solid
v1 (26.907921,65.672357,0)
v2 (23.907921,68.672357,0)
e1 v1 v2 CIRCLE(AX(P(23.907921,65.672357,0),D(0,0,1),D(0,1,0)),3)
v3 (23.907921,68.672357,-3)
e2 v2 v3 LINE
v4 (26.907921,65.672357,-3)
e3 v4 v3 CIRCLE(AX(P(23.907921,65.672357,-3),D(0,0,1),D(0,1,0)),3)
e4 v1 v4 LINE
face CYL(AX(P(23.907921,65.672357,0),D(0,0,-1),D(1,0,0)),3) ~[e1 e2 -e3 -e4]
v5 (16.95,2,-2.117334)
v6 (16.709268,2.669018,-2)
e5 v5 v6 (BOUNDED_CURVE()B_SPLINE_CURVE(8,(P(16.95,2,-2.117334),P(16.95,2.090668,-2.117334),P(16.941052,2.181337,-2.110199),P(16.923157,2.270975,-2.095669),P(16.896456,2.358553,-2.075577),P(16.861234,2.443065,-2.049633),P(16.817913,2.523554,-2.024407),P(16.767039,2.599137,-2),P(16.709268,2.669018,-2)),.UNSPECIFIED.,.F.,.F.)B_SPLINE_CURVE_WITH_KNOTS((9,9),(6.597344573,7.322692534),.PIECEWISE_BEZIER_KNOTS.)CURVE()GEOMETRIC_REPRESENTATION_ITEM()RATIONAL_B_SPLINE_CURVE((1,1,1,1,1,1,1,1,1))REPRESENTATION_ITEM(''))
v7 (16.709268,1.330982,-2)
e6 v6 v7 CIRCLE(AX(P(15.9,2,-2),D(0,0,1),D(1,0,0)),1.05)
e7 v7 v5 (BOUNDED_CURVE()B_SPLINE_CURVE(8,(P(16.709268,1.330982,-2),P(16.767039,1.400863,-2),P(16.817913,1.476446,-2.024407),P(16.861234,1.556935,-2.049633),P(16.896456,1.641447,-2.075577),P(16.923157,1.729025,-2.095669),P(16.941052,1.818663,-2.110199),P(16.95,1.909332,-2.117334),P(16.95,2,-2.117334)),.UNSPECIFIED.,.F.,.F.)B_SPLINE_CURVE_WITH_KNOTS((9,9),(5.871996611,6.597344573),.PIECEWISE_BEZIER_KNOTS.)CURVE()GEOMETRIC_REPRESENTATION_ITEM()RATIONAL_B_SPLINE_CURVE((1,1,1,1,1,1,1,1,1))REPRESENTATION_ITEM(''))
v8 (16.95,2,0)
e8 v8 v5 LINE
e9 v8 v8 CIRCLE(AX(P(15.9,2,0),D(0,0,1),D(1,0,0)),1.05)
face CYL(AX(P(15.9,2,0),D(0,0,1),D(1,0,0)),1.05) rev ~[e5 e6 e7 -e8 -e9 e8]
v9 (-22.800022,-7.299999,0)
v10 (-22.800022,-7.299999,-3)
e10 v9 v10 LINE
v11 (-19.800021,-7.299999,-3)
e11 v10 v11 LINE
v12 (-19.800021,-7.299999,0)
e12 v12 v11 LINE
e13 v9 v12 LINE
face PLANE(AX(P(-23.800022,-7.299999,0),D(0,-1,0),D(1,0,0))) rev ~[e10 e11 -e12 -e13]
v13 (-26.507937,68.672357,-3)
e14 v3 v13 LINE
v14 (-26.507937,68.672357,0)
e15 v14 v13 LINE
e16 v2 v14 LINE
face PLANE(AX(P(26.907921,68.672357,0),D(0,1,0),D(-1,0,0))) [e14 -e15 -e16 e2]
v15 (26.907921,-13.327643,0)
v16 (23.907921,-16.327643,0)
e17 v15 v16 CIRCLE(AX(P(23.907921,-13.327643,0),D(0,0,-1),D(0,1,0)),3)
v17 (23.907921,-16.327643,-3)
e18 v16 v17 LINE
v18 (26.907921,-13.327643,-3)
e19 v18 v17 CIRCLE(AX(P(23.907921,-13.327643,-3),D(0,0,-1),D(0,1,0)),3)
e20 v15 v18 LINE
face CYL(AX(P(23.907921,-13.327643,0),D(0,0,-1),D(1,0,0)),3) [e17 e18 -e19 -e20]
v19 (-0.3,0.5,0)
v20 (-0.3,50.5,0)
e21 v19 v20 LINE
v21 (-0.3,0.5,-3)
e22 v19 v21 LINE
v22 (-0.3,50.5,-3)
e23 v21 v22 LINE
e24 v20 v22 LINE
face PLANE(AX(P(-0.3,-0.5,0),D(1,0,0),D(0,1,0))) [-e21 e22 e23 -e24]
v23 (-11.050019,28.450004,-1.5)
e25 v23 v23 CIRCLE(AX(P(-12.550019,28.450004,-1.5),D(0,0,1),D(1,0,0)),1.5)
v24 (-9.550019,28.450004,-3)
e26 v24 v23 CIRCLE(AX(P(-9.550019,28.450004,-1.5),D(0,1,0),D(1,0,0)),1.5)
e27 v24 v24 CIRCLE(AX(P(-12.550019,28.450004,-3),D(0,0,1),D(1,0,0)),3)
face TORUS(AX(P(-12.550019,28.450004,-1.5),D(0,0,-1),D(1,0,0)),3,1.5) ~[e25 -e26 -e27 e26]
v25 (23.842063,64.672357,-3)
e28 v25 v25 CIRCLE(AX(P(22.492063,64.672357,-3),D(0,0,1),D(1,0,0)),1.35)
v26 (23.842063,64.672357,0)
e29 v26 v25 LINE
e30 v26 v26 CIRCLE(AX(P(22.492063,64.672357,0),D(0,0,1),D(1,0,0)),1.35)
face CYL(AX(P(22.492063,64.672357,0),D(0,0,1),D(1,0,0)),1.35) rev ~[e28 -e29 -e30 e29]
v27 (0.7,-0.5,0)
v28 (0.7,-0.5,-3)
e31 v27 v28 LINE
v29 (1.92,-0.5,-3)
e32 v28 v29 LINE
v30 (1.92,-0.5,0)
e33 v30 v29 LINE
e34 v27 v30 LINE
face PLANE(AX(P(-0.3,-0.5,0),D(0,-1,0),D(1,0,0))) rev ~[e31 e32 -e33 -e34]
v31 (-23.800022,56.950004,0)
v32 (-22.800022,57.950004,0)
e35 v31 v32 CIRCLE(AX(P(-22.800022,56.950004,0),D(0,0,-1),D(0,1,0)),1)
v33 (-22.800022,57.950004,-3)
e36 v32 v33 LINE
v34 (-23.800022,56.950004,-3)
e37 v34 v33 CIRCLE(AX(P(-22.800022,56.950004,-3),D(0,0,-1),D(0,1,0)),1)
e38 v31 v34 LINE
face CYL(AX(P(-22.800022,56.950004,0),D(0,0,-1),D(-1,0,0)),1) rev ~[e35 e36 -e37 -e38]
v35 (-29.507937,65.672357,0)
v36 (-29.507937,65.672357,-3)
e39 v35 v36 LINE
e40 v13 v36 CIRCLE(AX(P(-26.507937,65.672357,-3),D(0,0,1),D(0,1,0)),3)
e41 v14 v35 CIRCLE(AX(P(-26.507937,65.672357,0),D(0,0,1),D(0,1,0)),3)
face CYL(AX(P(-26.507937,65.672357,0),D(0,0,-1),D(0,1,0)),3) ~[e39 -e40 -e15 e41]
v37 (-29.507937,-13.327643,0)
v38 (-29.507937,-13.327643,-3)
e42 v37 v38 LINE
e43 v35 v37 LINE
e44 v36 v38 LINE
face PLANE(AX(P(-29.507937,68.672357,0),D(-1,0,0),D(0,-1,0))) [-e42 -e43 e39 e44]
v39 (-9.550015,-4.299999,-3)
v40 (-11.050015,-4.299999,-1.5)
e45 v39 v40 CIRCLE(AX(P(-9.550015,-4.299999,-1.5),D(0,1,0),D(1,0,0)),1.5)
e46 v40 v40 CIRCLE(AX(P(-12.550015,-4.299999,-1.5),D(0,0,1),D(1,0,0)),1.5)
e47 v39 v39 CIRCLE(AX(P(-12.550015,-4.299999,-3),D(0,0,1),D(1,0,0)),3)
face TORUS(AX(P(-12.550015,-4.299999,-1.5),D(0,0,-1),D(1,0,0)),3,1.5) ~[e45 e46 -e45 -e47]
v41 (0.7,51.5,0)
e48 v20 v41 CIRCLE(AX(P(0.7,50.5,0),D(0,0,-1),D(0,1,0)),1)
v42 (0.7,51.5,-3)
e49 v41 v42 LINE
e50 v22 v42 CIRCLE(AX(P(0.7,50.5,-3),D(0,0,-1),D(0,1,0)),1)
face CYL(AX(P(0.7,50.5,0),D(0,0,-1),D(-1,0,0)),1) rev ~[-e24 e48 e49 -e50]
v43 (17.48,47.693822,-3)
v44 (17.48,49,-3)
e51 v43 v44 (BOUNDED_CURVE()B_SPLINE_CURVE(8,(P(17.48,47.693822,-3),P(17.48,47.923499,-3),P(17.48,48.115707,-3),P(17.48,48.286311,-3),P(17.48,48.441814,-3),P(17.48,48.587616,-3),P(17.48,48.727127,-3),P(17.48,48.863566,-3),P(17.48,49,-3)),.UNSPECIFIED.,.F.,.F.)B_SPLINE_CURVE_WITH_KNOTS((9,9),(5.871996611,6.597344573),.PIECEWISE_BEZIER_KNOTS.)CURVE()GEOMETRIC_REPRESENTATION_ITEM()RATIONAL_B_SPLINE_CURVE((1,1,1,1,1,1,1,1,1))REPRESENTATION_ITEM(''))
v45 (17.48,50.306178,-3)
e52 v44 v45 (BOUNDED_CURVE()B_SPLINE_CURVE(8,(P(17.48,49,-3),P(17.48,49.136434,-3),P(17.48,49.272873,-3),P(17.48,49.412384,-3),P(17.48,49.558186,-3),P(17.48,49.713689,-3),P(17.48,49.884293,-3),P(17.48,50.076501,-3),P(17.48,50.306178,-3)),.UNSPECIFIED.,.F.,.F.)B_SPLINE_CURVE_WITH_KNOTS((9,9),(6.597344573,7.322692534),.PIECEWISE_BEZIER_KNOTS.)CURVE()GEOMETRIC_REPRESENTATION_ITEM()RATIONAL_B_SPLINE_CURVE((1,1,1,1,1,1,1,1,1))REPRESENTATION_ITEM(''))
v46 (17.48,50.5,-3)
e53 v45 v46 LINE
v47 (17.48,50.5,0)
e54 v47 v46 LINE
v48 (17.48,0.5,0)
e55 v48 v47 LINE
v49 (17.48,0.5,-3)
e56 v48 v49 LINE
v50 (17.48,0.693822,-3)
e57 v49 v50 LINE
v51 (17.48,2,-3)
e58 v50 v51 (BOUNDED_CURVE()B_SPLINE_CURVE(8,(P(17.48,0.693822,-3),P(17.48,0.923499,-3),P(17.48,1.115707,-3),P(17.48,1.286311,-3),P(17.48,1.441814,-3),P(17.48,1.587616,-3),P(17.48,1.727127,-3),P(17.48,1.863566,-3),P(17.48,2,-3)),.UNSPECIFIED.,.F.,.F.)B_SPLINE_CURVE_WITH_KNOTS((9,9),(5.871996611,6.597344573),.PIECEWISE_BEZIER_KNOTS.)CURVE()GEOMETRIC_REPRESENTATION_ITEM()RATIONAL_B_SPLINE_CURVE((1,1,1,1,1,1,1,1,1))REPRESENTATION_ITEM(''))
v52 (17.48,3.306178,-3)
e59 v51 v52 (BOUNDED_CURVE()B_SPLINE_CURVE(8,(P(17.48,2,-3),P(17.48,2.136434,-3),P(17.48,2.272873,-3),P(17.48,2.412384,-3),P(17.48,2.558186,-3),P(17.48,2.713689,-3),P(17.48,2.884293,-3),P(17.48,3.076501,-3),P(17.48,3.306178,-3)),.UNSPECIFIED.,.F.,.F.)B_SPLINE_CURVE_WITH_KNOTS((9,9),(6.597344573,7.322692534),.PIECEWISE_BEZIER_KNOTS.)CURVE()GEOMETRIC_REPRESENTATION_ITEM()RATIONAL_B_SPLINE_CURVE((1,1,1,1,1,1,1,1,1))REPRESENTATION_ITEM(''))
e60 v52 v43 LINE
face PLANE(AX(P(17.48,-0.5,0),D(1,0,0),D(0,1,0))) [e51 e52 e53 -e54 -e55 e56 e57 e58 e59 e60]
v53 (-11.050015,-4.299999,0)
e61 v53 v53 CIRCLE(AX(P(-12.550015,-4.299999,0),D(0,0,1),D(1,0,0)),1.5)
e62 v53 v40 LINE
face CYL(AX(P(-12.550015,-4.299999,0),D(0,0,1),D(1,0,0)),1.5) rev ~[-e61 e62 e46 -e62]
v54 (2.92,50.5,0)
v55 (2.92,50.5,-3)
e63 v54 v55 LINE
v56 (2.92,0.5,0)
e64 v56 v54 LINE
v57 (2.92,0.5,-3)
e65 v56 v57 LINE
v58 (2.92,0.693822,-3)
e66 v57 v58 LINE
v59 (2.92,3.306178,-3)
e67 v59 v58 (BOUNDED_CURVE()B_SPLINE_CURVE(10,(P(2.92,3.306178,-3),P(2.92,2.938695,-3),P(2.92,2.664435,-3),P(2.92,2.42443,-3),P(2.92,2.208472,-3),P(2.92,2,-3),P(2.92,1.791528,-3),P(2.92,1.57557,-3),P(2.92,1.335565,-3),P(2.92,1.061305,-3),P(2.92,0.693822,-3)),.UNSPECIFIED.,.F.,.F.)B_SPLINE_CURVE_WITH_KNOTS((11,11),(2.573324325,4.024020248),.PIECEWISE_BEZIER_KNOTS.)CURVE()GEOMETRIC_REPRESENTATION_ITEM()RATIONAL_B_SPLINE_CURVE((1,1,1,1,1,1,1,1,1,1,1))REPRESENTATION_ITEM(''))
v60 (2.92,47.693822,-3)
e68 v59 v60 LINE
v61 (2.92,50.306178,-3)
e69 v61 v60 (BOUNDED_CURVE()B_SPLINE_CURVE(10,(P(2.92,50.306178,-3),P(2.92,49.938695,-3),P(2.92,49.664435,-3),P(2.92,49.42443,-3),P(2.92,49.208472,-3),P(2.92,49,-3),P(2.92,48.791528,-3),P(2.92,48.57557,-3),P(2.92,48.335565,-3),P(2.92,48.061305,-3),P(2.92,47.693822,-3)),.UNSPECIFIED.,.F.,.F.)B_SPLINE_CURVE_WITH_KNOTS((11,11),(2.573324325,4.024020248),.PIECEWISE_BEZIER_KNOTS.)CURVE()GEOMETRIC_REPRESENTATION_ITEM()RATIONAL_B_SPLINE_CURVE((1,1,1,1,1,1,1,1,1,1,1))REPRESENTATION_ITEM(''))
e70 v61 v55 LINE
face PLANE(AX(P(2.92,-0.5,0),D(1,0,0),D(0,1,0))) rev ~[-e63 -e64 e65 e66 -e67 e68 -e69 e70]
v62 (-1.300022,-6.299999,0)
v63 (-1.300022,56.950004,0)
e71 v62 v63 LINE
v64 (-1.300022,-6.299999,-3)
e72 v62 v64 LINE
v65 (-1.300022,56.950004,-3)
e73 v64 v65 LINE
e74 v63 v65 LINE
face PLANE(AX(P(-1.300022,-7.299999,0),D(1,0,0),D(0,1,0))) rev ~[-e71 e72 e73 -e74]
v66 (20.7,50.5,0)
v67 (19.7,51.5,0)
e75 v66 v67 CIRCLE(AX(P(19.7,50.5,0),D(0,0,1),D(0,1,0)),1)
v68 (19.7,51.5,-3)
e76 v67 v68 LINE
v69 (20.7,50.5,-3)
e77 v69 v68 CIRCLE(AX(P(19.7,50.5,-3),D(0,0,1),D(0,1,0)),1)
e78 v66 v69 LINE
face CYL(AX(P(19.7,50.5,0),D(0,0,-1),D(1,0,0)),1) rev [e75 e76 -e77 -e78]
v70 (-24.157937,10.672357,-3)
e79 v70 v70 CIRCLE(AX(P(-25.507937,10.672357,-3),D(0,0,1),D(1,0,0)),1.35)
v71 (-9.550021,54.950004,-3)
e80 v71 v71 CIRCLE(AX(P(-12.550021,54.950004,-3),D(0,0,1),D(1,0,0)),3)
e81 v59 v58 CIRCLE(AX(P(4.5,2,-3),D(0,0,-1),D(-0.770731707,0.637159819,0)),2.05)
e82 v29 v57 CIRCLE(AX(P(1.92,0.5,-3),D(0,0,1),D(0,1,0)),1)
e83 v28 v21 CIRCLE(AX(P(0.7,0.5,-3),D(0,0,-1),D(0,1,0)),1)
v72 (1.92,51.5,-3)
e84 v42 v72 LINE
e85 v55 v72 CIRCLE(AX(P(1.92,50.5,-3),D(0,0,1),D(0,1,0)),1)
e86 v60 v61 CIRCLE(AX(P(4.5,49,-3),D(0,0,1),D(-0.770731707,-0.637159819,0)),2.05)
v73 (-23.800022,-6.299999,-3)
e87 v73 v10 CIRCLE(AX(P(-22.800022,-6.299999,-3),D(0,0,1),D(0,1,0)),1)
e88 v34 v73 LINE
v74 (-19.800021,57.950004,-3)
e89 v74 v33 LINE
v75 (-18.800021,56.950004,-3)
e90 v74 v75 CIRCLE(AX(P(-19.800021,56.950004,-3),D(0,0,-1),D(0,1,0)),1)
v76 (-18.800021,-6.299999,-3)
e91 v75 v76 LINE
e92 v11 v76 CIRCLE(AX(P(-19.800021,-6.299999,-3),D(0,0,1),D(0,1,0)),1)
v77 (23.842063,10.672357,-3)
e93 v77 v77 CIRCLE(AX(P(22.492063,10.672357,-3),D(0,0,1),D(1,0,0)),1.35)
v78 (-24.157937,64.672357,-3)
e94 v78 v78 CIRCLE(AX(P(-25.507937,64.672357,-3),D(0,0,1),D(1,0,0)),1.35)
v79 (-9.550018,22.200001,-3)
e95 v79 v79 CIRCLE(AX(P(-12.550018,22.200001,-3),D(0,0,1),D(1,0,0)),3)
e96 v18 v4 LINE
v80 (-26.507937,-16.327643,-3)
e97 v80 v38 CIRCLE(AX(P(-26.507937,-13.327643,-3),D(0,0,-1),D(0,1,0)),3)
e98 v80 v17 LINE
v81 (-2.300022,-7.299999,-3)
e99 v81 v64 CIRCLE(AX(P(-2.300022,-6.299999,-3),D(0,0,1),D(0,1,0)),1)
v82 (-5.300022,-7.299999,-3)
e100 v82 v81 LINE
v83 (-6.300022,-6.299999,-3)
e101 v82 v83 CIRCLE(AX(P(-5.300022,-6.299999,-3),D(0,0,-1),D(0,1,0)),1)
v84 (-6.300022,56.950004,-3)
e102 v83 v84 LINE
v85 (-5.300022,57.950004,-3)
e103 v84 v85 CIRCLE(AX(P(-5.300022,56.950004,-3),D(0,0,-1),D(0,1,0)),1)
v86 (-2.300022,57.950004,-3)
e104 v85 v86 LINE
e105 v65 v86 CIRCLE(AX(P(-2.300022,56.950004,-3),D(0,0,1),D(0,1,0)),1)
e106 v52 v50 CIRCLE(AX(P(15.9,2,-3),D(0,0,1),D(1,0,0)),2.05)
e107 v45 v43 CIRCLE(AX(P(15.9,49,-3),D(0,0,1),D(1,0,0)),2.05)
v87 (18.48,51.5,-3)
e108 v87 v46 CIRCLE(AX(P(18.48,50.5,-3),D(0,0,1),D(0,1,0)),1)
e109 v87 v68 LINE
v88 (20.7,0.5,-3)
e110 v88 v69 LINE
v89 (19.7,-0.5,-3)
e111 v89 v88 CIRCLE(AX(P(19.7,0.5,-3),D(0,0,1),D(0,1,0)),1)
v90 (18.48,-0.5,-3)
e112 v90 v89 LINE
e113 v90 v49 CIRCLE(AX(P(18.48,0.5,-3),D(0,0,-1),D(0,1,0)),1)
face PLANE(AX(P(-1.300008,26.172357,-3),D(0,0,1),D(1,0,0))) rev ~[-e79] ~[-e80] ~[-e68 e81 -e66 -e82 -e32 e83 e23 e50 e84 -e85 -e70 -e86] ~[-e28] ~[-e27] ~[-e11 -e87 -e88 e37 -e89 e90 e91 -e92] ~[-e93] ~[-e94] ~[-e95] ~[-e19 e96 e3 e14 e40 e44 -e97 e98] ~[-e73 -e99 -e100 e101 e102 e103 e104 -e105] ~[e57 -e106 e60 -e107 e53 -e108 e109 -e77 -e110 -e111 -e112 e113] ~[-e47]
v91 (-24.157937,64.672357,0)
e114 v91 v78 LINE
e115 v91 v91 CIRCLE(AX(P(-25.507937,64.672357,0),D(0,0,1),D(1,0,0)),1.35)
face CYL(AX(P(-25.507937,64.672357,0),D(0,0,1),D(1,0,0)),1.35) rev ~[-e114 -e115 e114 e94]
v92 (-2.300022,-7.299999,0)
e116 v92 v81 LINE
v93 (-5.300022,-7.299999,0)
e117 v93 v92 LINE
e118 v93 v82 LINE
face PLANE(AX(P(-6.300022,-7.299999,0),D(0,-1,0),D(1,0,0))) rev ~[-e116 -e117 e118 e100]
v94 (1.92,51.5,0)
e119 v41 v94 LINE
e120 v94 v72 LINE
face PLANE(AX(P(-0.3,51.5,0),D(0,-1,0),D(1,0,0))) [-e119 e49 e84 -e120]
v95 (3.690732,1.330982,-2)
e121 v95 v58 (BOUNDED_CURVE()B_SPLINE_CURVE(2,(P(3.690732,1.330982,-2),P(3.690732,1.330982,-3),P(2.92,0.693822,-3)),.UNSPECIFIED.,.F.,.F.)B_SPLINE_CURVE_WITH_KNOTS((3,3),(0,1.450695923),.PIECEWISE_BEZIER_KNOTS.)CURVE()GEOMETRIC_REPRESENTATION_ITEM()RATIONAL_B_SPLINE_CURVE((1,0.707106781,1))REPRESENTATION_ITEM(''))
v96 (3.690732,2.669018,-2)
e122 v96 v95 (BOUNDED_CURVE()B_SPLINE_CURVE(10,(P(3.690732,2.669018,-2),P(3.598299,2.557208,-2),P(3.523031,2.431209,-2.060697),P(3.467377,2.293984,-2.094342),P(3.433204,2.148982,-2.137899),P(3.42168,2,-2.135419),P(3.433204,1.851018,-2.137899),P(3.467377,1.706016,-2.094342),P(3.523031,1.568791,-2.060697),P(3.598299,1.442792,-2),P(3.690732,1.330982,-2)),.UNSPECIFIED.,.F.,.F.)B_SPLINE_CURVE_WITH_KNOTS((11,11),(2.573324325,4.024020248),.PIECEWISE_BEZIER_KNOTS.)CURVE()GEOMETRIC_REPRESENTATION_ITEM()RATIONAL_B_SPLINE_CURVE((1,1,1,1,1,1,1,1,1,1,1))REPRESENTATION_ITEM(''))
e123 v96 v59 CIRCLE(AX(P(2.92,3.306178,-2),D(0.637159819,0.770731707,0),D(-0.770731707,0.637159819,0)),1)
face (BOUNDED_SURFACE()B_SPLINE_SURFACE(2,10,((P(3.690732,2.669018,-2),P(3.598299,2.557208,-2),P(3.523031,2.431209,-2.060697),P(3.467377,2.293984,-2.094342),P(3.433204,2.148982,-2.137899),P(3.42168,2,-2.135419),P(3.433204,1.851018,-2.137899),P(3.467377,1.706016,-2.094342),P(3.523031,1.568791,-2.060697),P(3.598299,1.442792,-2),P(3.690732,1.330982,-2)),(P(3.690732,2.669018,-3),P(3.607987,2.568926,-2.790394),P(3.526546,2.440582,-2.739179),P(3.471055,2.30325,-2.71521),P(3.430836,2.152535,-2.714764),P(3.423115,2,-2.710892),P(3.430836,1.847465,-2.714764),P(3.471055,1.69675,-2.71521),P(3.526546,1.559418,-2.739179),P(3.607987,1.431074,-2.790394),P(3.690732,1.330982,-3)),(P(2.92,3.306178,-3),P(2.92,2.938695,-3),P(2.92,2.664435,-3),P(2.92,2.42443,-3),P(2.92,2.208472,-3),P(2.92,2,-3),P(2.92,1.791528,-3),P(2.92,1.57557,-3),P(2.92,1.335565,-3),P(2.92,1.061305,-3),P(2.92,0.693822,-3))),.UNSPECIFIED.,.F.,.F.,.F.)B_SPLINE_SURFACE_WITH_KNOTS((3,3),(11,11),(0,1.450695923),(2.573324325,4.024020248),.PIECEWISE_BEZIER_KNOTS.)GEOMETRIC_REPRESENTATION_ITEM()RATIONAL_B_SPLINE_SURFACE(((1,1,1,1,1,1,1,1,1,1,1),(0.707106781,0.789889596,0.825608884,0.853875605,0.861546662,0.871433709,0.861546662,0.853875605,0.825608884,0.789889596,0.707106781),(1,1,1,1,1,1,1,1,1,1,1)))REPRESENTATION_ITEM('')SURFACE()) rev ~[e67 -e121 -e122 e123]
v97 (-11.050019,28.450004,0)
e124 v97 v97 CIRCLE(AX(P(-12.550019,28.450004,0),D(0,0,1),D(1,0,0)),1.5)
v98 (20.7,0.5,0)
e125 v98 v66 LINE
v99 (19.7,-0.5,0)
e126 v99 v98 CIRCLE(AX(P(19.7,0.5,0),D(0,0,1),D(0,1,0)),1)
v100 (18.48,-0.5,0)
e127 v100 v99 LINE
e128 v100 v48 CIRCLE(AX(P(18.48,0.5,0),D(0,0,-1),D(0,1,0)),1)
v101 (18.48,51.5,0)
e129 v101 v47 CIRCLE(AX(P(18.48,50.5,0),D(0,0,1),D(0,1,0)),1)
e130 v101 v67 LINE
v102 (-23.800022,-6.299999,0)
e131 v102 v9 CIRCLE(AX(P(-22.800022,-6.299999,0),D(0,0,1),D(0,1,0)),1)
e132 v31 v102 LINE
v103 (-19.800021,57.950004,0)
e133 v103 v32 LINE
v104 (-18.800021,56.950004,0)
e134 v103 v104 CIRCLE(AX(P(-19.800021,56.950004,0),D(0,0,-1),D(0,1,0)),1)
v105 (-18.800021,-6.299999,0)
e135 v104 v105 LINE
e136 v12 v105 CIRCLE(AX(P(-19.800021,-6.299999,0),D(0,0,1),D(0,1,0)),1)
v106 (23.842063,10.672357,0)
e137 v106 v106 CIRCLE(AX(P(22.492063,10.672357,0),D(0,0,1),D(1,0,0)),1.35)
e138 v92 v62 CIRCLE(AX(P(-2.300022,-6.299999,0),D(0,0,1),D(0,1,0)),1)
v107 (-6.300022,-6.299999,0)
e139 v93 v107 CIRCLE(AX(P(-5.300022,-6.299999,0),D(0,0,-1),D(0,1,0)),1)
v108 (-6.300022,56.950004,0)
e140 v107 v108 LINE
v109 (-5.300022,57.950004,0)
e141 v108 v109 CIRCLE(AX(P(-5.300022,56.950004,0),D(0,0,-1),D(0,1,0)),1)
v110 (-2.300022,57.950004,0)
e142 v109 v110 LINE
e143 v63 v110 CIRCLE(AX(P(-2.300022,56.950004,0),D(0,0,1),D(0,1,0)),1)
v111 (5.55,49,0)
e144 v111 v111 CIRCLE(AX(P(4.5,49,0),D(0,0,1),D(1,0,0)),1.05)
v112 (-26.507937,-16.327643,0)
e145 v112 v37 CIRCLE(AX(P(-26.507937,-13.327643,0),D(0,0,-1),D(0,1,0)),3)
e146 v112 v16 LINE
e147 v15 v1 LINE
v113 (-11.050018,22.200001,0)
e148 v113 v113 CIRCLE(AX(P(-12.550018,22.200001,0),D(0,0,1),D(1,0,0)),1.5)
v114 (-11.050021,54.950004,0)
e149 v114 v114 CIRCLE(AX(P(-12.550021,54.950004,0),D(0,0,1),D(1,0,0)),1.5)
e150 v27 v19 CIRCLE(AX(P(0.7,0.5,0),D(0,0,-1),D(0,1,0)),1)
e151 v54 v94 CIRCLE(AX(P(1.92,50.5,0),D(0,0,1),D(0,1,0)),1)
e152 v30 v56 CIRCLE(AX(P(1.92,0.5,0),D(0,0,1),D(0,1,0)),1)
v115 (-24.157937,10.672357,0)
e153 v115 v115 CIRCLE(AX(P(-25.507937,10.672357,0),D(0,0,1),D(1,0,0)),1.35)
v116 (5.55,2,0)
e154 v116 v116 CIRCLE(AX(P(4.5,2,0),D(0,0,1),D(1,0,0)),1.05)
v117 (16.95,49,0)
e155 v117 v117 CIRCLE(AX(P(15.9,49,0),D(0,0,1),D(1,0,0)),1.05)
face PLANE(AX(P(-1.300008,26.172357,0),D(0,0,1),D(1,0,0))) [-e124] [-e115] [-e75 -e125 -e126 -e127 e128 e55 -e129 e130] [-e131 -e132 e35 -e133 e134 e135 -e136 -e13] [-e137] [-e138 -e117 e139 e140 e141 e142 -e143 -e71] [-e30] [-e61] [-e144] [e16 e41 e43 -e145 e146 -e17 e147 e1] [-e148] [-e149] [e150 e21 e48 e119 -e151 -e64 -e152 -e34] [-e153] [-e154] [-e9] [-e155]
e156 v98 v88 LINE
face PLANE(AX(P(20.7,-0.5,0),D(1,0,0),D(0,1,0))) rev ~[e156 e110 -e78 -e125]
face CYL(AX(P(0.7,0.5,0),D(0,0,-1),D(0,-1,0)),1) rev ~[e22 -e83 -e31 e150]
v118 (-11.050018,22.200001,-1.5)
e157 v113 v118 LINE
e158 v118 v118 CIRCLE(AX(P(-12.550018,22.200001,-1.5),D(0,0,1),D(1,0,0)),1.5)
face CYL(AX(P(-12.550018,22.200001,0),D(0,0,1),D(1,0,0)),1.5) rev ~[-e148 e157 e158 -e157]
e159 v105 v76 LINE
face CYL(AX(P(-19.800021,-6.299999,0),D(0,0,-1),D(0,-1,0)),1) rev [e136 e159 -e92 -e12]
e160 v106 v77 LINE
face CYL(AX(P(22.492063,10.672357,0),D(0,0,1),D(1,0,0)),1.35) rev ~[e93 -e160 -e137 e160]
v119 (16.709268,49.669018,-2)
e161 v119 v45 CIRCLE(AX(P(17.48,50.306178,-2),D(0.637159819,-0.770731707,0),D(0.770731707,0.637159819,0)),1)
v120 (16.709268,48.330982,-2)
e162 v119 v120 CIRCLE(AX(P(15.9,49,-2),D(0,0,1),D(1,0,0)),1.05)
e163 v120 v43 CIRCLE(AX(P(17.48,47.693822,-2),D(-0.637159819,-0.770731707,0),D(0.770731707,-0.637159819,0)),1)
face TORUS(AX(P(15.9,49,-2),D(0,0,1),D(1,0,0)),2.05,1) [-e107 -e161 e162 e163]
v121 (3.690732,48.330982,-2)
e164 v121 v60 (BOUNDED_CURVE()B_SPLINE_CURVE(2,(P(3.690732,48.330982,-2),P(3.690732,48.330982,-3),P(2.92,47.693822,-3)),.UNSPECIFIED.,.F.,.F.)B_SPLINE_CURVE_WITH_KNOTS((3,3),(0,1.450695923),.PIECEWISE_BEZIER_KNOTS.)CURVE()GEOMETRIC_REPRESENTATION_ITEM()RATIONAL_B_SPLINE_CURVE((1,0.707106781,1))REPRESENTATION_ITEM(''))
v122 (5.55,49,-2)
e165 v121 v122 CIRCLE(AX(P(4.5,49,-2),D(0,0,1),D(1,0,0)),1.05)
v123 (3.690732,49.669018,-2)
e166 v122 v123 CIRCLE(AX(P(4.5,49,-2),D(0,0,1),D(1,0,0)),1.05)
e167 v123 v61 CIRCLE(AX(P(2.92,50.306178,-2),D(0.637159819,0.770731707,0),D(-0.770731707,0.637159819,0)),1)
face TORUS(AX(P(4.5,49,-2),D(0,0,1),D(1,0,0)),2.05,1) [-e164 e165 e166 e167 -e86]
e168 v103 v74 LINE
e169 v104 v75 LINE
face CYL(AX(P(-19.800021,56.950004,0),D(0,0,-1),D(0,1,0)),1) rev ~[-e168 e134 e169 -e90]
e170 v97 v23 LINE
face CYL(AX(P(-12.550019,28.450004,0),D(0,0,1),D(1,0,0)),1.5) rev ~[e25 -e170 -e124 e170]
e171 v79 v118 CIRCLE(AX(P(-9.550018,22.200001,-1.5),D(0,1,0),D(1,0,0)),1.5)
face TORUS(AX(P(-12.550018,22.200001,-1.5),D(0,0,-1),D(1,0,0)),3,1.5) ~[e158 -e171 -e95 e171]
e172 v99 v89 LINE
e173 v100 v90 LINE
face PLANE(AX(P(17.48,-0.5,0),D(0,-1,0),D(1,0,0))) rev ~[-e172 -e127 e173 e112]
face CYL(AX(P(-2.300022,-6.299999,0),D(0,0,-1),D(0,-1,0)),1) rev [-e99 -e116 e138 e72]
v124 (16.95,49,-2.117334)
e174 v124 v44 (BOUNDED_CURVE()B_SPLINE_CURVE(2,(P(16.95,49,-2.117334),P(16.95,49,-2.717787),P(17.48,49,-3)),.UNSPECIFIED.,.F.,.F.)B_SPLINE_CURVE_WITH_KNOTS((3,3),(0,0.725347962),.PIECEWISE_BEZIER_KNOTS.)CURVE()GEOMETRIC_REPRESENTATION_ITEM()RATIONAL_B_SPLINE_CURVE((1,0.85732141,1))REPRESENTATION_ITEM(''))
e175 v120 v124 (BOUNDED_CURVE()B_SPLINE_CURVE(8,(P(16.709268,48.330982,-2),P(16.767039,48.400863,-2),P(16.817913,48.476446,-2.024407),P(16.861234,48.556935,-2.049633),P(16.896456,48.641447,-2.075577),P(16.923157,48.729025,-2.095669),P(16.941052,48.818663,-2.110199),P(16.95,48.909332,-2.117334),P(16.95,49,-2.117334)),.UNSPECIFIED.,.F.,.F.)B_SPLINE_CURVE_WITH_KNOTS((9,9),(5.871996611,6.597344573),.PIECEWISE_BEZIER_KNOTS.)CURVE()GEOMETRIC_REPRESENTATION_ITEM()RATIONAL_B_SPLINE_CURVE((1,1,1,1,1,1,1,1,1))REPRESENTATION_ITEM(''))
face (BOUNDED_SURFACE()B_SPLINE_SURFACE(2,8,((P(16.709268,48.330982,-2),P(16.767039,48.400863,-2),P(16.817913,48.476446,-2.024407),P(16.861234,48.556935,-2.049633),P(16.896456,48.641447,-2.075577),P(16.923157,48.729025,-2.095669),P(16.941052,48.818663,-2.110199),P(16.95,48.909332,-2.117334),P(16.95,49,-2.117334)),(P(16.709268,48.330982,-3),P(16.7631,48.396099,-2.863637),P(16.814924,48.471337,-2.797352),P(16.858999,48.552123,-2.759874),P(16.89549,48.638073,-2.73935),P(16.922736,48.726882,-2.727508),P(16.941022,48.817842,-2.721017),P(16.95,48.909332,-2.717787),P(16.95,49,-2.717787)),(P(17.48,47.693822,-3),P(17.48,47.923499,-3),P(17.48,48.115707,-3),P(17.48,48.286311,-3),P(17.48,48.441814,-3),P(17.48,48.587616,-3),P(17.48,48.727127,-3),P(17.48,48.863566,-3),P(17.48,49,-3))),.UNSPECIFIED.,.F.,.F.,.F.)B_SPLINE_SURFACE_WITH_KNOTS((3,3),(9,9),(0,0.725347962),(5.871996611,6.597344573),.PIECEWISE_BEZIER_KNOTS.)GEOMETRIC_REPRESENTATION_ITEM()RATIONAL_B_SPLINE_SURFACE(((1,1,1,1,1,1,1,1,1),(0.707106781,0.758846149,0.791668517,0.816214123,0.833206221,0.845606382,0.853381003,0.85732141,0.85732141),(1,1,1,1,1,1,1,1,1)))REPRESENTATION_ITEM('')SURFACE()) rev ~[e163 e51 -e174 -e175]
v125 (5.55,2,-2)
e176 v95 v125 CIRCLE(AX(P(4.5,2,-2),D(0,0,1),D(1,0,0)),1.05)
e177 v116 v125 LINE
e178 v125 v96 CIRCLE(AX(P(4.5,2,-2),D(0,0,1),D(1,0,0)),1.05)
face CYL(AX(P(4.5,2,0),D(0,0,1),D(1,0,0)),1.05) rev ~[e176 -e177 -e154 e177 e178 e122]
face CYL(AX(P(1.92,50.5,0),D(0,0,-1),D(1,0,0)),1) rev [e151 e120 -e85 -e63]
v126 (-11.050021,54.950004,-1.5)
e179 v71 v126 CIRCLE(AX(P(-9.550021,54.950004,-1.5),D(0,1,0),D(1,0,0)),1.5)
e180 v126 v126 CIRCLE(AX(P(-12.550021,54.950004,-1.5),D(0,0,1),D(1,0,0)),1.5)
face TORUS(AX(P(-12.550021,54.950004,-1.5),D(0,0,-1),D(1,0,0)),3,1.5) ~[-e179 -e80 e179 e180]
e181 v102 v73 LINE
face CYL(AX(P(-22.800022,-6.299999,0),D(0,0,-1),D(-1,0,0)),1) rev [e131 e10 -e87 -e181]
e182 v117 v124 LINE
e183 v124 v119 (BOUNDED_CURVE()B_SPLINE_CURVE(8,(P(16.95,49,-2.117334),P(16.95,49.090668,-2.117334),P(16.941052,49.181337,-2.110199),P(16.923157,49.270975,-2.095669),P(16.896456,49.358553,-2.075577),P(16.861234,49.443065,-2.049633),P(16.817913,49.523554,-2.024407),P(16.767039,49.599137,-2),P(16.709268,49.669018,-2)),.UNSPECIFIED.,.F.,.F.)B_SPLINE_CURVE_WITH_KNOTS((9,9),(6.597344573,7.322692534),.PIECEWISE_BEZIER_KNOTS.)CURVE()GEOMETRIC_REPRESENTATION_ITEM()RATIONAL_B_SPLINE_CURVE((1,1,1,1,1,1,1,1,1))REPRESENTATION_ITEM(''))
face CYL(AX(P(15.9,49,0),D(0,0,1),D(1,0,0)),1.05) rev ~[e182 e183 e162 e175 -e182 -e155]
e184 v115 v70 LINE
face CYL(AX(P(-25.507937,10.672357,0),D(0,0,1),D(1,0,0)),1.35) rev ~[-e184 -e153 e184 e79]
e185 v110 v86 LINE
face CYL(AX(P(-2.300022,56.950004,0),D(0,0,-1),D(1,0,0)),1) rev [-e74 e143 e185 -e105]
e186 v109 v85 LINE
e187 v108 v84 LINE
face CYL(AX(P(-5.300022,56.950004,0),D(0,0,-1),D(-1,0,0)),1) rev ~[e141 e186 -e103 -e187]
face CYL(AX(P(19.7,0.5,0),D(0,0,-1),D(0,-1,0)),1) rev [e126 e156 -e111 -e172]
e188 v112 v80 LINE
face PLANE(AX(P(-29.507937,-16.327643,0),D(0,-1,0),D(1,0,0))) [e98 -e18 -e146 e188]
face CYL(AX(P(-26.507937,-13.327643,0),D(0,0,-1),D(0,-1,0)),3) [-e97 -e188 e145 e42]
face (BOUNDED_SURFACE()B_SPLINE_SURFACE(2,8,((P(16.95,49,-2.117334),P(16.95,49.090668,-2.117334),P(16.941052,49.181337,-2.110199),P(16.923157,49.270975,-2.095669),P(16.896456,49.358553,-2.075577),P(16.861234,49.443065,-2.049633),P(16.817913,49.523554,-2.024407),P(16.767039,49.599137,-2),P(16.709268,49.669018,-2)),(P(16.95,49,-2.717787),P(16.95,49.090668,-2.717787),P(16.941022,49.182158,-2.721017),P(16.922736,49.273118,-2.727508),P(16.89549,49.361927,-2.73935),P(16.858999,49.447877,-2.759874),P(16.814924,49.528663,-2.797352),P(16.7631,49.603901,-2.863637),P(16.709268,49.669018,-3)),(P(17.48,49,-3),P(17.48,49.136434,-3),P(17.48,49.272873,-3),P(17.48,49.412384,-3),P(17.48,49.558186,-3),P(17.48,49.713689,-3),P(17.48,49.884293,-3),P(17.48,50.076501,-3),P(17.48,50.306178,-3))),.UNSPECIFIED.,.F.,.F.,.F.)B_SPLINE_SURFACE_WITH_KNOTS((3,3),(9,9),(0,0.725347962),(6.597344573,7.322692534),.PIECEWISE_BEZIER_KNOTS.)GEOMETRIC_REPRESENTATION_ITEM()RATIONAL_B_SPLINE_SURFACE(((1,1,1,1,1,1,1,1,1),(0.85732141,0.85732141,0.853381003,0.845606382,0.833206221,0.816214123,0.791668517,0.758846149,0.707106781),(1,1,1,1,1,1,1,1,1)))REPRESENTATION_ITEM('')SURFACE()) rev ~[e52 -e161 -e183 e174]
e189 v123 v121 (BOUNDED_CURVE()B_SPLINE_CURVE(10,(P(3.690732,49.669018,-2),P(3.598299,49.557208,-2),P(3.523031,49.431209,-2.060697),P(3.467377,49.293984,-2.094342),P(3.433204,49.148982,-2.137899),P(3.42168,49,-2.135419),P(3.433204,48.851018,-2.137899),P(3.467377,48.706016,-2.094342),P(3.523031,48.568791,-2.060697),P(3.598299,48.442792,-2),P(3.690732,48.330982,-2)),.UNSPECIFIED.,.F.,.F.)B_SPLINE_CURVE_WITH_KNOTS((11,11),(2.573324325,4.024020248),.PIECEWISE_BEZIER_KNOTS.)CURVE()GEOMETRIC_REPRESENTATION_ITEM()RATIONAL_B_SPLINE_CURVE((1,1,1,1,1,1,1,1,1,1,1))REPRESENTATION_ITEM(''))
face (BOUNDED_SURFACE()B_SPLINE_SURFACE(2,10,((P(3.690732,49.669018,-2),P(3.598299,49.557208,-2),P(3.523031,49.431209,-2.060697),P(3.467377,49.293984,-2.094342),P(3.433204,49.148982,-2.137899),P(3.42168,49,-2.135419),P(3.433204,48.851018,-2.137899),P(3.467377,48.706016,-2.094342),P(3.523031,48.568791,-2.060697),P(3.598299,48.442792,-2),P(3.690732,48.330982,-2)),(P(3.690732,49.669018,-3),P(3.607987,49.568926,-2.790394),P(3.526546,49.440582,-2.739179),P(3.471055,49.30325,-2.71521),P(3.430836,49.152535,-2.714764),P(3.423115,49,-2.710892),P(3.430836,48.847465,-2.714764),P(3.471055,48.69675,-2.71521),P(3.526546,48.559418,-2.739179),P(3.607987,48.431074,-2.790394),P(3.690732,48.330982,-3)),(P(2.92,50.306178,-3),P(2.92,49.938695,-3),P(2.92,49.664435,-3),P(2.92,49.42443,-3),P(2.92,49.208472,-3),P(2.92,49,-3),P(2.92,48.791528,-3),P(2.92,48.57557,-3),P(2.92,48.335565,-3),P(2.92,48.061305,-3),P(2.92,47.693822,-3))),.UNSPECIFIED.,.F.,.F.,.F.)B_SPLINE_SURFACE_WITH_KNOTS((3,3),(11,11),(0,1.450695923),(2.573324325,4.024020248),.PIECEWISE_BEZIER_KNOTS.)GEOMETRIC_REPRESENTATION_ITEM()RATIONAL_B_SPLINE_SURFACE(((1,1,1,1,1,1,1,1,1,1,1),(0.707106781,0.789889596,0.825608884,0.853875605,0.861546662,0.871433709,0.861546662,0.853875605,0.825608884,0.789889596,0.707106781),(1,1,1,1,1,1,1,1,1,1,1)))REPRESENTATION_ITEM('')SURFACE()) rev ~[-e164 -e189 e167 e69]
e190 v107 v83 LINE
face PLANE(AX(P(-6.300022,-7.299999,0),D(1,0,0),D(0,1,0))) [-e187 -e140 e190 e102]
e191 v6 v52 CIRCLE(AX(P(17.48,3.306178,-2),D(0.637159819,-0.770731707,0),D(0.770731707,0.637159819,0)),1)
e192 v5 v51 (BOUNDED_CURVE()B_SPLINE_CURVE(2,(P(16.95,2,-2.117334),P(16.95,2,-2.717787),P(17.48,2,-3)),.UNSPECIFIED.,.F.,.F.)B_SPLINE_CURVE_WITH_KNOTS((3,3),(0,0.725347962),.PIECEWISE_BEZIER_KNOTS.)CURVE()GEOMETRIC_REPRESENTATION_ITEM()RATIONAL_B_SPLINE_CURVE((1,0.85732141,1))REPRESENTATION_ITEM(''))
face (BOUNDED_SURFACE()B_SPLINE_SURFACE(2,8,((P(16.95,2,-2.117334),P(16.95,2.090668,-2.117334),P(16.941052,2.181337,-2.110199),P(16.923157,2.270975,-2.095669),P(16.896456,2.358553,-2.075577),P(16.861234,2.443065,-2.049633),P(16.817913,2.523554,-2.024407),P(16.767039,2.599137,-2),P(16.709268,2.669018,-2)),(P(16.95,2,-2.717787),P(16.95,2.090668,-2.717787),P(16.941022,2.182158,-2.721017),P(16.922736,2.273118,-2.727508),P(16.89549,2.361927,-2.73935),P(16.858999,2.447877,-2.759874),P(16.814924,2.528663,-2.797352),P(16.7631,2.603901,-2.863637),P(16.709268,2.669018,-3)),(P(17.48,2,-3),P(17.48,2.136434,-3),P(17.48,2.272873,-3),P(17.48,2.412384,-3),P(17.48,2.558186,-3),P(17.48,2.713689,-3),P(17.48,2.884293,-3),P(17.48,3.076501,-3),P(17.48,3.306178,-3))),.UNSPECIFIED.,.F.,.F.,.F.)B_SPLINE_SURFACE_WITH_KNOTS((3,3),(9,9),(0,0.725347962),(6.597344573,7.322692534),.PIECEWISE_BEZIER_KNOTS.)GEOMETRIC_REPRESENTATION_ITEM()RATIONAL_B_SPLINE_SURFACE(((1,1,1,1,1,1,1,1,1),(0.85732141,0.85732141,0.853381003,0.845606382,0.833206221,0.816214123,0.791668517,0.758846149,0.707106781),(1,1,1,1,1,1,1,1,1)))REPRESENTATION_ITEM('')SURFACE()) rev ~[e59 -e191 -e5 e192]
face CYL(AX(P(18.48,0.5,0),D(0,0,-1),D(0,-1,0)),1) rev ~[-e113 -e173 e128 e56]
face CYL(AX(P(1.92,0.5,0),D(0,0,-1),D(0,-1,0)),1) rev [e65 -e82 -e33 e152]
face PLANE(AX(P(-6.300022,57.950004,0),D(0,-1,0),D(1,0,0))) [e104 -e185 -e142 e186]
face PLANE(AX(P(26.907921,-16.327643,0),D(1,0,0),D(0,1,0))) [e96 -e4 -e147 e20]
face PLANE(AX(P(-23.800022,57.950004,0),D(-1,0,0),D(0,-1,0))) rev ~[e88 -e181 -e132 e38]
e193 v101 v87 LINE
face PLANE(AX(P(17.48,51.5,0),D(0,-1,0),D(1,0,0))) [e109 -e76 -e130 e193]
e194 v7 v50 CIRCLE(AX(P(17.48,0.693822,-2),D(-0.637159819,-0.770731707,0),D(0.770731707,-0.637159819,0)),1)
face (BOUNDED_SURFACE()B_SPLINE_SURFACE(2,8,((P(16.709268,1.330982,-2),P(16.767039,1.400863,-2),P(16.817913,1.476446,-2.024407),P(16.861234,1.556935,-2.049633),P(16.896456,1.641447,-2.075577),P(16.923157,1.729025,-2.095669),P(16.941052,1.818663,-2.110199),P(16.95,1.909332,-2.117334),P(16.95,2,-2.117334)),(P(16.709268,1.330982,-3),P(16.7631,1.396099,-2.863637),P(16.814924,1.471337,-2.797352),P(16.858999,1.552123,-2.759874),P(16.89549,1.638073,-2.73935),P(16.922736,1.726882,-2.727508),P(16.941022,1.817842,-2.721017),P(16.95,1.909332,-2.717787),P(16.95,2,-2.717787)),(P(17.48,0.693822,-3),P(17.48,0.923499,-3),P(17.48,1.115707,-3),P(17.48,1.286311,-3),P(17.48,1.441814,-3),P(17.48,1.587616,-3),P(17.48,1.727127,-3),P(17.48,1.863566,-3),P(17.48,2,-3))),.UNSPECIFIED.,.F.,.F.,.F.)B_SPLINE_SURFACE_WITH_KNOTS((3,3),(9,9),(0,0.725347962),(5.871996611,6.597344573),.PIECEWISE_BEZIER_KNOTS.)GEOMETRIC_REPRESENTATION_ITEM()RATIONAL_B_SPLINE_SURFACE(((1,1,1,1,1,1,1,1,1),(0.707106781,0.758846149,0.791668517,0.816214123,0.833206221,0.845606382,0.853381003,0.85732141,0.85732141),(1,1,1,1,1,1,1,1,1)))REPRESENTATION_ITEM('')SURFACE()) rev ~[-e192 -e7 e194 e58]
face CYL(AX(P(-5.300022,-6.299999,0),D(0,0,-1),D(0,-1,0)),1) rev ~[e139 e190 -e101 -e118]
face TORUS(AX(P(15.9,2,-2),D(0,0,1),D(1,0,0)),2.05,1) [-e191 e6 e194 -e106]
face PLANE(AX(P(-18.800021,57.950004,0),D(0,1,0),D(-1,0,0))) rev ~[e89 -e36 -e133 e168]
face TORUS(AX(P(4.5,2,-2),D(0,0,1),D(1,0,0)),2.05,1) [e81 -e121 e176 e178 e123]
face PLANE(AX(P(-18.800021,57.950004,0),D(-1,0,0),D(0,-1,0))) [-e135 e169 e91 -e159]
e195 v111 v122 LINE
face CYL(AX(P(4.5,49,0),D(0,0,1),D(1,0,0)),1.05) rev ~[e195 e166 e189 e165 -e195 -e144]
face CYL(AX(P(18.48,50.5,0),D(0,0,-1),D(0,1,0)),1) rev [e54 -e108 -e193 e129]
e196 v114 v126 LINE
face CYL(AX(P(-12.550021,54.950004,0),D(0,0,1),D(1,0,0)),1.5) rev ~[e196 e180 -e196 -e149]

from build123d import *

# Parameters (mm, degrees)
SKETCH_R     = 1.5
SKETCH_R_2   = 1.05
SKETCH_W     = 5
SKETCH_H     = 65.250003
SKETCH_W_2   = 3.22
SKETCH_H_2   = 52
PAD_DEPTH    = 3
FILLET_R     = 3
FILLET001_R  = 1
FILLET002_R  = 1
FILLET003_R  = 1.5
SKETCH002_R  = 1.35
POCKET_DEPTH = 3.001


with BuildPart() as part:
    # Sketch → Pad (new body)
    with BuildSketch(Plane.XY):
        Polygon((-23.300015, -16.327643), (20.7, -16.327643), (26.907921, -16.327643), (26.907921, 68.672357), (-29.507937, 68.672357), (-29.507937, -16.327643), align=None)
        with Locations((-12.550021, 54.950004)):
            Circle(SKETCH_R, mode=Mode.SUBTRACT)
        with Locations((-12.550019, 28.450004)):
            Circle(SKETCH_R, mode=Mode.SUBTRACT)
        with Locations((-12.550018, 22.200001)):
            Circle(SKETCH_R, mode=Mode.SUBTRACT)
        with Locations((-12.550015, -4.299999)):
            Circle(SKETCH_R, mode=Mode.SUBTRACT)
        with Locations((4.5, 49)):
            Circle(SKETCH_R_2, mode=Mode.SUBTRACT)
        with Locations((15.9, 49)):
            Circle(SKETCH_R_2, mode=Mode.SUBTRACT)
        with Locations((4.5, 2)):
            Circle(SKETCH_R_2, mode=Mode.SUBTRACT)
        with Locations((15.9, 2)):
            Circle(SKETCH_R_2, mode=Mode.SUBTRACT)
        Polygon((-23.800022, 57.950004), (-23.800022, -7.299999), (-18.800021, -7.299999), (-18.800021, -6.799999), (-18.800021, 57.450004), (-18.800021, 57.950004), align=None, mode=Mode.SUBTRACT)
        with Locations((-3.800022, 25.325003)):
            Rectangle(SKETCH_W, SKETCH_H, mode=Mode.SUBTRACT)
        with Locations((1.31, 25.5)):
            Rectangle(SKETCH_W_2, SKETCH_H_2, mode=Mode.SUBTRACT)
        with Locations((19.09, 25.5)):
            Rectangle(SKETCH_W_2, SKETCH_H_2, mode=Mode.SUBTRACT)
    extrude(amount=-PAD_DEPTH)

    # Fillet
    fillet_edges = [part.edges().sort_by_distance(p)[0] for p in [
        (26.907921, -16.327643, -1.5),
        (-29.507937, -16.327643, -1.5),
        (-29.507937, 68.672357, -1.5),
        (26.907921, 68.672357, -1.5),
    ]]
    fillet(fillet_edges, radius=FILLET_R)

    # Fillet001
    fillet001_edges = [part.edges().sort_by_distance(p)[0] for p in [
        (-23.800022, -7.299999, -1.5),
        (-18.800021, -7.299999, -1.5),
        (-23.800022, 57.950004, -1.5),
        (-18.800021, 57.950004, -1.5),
        (-1.300022, 57.950004, -1.5),
        (-6.300022, 57.950004, -1.5),
        (-1.300022, -7.299999, -1.5),
        (-6.300022, -7.299999, -1.5),
        (-0.3, -0.5, -1.5),
        (2.92, -0.5, -1.5),
        (20.7, -0.5, -1.5),
        (17.48, -0.5, -1.5),
        (-0.3, 51.5, -1.5),
        (2.92, 51.5, -1.5),
        (20.7, 51.5, -1.5),
        (17.48, 51.5, -1.5),
    ]]
    fillet(fillet001_edges, radius=FILLET001_R)

    # Fillet002
    fillet002_edges = [part.edges().sort_by_distance(p)[0] for p in [
        (3.45, 49, -3),
        (14.85, 49, -3),
        (14.85, 2, -3),
        (3.45, 2, -3),
    ]]
    fillet(fillet002_edges, radius=FILLET002_R)

    # Fillet003
    fillet003_edges = [part.edges().sort_by_distance(p)[0] for p in [
        (-14.050015, -4.299999, -3),
        (-14.050018, 22.200001, -3),
        (-14.050019, 28.450004, -3),
        (-14.050021, 54.950004, -3),
    ]]
    fillet(fillet003_edges, radius=FILLET003_R)

    # Sketch002 (on Face3 of Fillet003) → Pocket (cut, through all)
    with BuildSketch(Plane.XY):
        with Locations((-25.507937, 10.672357)):
            Circle(SKETCH002_R)
        with Locations((22.492063, 10.672357)):
            Circle(SKETCH002_R)
        with Locations((22.492063, 64.672357)):
            Circle(SKETCH002_R)
        with Locations((-25.507937, 64.672357)):
            Circle(SKETCH002_R)
    extrude(amount=-POCKET_DEPTH, mode=Mode.SUBTRACT)


solid = part.part
